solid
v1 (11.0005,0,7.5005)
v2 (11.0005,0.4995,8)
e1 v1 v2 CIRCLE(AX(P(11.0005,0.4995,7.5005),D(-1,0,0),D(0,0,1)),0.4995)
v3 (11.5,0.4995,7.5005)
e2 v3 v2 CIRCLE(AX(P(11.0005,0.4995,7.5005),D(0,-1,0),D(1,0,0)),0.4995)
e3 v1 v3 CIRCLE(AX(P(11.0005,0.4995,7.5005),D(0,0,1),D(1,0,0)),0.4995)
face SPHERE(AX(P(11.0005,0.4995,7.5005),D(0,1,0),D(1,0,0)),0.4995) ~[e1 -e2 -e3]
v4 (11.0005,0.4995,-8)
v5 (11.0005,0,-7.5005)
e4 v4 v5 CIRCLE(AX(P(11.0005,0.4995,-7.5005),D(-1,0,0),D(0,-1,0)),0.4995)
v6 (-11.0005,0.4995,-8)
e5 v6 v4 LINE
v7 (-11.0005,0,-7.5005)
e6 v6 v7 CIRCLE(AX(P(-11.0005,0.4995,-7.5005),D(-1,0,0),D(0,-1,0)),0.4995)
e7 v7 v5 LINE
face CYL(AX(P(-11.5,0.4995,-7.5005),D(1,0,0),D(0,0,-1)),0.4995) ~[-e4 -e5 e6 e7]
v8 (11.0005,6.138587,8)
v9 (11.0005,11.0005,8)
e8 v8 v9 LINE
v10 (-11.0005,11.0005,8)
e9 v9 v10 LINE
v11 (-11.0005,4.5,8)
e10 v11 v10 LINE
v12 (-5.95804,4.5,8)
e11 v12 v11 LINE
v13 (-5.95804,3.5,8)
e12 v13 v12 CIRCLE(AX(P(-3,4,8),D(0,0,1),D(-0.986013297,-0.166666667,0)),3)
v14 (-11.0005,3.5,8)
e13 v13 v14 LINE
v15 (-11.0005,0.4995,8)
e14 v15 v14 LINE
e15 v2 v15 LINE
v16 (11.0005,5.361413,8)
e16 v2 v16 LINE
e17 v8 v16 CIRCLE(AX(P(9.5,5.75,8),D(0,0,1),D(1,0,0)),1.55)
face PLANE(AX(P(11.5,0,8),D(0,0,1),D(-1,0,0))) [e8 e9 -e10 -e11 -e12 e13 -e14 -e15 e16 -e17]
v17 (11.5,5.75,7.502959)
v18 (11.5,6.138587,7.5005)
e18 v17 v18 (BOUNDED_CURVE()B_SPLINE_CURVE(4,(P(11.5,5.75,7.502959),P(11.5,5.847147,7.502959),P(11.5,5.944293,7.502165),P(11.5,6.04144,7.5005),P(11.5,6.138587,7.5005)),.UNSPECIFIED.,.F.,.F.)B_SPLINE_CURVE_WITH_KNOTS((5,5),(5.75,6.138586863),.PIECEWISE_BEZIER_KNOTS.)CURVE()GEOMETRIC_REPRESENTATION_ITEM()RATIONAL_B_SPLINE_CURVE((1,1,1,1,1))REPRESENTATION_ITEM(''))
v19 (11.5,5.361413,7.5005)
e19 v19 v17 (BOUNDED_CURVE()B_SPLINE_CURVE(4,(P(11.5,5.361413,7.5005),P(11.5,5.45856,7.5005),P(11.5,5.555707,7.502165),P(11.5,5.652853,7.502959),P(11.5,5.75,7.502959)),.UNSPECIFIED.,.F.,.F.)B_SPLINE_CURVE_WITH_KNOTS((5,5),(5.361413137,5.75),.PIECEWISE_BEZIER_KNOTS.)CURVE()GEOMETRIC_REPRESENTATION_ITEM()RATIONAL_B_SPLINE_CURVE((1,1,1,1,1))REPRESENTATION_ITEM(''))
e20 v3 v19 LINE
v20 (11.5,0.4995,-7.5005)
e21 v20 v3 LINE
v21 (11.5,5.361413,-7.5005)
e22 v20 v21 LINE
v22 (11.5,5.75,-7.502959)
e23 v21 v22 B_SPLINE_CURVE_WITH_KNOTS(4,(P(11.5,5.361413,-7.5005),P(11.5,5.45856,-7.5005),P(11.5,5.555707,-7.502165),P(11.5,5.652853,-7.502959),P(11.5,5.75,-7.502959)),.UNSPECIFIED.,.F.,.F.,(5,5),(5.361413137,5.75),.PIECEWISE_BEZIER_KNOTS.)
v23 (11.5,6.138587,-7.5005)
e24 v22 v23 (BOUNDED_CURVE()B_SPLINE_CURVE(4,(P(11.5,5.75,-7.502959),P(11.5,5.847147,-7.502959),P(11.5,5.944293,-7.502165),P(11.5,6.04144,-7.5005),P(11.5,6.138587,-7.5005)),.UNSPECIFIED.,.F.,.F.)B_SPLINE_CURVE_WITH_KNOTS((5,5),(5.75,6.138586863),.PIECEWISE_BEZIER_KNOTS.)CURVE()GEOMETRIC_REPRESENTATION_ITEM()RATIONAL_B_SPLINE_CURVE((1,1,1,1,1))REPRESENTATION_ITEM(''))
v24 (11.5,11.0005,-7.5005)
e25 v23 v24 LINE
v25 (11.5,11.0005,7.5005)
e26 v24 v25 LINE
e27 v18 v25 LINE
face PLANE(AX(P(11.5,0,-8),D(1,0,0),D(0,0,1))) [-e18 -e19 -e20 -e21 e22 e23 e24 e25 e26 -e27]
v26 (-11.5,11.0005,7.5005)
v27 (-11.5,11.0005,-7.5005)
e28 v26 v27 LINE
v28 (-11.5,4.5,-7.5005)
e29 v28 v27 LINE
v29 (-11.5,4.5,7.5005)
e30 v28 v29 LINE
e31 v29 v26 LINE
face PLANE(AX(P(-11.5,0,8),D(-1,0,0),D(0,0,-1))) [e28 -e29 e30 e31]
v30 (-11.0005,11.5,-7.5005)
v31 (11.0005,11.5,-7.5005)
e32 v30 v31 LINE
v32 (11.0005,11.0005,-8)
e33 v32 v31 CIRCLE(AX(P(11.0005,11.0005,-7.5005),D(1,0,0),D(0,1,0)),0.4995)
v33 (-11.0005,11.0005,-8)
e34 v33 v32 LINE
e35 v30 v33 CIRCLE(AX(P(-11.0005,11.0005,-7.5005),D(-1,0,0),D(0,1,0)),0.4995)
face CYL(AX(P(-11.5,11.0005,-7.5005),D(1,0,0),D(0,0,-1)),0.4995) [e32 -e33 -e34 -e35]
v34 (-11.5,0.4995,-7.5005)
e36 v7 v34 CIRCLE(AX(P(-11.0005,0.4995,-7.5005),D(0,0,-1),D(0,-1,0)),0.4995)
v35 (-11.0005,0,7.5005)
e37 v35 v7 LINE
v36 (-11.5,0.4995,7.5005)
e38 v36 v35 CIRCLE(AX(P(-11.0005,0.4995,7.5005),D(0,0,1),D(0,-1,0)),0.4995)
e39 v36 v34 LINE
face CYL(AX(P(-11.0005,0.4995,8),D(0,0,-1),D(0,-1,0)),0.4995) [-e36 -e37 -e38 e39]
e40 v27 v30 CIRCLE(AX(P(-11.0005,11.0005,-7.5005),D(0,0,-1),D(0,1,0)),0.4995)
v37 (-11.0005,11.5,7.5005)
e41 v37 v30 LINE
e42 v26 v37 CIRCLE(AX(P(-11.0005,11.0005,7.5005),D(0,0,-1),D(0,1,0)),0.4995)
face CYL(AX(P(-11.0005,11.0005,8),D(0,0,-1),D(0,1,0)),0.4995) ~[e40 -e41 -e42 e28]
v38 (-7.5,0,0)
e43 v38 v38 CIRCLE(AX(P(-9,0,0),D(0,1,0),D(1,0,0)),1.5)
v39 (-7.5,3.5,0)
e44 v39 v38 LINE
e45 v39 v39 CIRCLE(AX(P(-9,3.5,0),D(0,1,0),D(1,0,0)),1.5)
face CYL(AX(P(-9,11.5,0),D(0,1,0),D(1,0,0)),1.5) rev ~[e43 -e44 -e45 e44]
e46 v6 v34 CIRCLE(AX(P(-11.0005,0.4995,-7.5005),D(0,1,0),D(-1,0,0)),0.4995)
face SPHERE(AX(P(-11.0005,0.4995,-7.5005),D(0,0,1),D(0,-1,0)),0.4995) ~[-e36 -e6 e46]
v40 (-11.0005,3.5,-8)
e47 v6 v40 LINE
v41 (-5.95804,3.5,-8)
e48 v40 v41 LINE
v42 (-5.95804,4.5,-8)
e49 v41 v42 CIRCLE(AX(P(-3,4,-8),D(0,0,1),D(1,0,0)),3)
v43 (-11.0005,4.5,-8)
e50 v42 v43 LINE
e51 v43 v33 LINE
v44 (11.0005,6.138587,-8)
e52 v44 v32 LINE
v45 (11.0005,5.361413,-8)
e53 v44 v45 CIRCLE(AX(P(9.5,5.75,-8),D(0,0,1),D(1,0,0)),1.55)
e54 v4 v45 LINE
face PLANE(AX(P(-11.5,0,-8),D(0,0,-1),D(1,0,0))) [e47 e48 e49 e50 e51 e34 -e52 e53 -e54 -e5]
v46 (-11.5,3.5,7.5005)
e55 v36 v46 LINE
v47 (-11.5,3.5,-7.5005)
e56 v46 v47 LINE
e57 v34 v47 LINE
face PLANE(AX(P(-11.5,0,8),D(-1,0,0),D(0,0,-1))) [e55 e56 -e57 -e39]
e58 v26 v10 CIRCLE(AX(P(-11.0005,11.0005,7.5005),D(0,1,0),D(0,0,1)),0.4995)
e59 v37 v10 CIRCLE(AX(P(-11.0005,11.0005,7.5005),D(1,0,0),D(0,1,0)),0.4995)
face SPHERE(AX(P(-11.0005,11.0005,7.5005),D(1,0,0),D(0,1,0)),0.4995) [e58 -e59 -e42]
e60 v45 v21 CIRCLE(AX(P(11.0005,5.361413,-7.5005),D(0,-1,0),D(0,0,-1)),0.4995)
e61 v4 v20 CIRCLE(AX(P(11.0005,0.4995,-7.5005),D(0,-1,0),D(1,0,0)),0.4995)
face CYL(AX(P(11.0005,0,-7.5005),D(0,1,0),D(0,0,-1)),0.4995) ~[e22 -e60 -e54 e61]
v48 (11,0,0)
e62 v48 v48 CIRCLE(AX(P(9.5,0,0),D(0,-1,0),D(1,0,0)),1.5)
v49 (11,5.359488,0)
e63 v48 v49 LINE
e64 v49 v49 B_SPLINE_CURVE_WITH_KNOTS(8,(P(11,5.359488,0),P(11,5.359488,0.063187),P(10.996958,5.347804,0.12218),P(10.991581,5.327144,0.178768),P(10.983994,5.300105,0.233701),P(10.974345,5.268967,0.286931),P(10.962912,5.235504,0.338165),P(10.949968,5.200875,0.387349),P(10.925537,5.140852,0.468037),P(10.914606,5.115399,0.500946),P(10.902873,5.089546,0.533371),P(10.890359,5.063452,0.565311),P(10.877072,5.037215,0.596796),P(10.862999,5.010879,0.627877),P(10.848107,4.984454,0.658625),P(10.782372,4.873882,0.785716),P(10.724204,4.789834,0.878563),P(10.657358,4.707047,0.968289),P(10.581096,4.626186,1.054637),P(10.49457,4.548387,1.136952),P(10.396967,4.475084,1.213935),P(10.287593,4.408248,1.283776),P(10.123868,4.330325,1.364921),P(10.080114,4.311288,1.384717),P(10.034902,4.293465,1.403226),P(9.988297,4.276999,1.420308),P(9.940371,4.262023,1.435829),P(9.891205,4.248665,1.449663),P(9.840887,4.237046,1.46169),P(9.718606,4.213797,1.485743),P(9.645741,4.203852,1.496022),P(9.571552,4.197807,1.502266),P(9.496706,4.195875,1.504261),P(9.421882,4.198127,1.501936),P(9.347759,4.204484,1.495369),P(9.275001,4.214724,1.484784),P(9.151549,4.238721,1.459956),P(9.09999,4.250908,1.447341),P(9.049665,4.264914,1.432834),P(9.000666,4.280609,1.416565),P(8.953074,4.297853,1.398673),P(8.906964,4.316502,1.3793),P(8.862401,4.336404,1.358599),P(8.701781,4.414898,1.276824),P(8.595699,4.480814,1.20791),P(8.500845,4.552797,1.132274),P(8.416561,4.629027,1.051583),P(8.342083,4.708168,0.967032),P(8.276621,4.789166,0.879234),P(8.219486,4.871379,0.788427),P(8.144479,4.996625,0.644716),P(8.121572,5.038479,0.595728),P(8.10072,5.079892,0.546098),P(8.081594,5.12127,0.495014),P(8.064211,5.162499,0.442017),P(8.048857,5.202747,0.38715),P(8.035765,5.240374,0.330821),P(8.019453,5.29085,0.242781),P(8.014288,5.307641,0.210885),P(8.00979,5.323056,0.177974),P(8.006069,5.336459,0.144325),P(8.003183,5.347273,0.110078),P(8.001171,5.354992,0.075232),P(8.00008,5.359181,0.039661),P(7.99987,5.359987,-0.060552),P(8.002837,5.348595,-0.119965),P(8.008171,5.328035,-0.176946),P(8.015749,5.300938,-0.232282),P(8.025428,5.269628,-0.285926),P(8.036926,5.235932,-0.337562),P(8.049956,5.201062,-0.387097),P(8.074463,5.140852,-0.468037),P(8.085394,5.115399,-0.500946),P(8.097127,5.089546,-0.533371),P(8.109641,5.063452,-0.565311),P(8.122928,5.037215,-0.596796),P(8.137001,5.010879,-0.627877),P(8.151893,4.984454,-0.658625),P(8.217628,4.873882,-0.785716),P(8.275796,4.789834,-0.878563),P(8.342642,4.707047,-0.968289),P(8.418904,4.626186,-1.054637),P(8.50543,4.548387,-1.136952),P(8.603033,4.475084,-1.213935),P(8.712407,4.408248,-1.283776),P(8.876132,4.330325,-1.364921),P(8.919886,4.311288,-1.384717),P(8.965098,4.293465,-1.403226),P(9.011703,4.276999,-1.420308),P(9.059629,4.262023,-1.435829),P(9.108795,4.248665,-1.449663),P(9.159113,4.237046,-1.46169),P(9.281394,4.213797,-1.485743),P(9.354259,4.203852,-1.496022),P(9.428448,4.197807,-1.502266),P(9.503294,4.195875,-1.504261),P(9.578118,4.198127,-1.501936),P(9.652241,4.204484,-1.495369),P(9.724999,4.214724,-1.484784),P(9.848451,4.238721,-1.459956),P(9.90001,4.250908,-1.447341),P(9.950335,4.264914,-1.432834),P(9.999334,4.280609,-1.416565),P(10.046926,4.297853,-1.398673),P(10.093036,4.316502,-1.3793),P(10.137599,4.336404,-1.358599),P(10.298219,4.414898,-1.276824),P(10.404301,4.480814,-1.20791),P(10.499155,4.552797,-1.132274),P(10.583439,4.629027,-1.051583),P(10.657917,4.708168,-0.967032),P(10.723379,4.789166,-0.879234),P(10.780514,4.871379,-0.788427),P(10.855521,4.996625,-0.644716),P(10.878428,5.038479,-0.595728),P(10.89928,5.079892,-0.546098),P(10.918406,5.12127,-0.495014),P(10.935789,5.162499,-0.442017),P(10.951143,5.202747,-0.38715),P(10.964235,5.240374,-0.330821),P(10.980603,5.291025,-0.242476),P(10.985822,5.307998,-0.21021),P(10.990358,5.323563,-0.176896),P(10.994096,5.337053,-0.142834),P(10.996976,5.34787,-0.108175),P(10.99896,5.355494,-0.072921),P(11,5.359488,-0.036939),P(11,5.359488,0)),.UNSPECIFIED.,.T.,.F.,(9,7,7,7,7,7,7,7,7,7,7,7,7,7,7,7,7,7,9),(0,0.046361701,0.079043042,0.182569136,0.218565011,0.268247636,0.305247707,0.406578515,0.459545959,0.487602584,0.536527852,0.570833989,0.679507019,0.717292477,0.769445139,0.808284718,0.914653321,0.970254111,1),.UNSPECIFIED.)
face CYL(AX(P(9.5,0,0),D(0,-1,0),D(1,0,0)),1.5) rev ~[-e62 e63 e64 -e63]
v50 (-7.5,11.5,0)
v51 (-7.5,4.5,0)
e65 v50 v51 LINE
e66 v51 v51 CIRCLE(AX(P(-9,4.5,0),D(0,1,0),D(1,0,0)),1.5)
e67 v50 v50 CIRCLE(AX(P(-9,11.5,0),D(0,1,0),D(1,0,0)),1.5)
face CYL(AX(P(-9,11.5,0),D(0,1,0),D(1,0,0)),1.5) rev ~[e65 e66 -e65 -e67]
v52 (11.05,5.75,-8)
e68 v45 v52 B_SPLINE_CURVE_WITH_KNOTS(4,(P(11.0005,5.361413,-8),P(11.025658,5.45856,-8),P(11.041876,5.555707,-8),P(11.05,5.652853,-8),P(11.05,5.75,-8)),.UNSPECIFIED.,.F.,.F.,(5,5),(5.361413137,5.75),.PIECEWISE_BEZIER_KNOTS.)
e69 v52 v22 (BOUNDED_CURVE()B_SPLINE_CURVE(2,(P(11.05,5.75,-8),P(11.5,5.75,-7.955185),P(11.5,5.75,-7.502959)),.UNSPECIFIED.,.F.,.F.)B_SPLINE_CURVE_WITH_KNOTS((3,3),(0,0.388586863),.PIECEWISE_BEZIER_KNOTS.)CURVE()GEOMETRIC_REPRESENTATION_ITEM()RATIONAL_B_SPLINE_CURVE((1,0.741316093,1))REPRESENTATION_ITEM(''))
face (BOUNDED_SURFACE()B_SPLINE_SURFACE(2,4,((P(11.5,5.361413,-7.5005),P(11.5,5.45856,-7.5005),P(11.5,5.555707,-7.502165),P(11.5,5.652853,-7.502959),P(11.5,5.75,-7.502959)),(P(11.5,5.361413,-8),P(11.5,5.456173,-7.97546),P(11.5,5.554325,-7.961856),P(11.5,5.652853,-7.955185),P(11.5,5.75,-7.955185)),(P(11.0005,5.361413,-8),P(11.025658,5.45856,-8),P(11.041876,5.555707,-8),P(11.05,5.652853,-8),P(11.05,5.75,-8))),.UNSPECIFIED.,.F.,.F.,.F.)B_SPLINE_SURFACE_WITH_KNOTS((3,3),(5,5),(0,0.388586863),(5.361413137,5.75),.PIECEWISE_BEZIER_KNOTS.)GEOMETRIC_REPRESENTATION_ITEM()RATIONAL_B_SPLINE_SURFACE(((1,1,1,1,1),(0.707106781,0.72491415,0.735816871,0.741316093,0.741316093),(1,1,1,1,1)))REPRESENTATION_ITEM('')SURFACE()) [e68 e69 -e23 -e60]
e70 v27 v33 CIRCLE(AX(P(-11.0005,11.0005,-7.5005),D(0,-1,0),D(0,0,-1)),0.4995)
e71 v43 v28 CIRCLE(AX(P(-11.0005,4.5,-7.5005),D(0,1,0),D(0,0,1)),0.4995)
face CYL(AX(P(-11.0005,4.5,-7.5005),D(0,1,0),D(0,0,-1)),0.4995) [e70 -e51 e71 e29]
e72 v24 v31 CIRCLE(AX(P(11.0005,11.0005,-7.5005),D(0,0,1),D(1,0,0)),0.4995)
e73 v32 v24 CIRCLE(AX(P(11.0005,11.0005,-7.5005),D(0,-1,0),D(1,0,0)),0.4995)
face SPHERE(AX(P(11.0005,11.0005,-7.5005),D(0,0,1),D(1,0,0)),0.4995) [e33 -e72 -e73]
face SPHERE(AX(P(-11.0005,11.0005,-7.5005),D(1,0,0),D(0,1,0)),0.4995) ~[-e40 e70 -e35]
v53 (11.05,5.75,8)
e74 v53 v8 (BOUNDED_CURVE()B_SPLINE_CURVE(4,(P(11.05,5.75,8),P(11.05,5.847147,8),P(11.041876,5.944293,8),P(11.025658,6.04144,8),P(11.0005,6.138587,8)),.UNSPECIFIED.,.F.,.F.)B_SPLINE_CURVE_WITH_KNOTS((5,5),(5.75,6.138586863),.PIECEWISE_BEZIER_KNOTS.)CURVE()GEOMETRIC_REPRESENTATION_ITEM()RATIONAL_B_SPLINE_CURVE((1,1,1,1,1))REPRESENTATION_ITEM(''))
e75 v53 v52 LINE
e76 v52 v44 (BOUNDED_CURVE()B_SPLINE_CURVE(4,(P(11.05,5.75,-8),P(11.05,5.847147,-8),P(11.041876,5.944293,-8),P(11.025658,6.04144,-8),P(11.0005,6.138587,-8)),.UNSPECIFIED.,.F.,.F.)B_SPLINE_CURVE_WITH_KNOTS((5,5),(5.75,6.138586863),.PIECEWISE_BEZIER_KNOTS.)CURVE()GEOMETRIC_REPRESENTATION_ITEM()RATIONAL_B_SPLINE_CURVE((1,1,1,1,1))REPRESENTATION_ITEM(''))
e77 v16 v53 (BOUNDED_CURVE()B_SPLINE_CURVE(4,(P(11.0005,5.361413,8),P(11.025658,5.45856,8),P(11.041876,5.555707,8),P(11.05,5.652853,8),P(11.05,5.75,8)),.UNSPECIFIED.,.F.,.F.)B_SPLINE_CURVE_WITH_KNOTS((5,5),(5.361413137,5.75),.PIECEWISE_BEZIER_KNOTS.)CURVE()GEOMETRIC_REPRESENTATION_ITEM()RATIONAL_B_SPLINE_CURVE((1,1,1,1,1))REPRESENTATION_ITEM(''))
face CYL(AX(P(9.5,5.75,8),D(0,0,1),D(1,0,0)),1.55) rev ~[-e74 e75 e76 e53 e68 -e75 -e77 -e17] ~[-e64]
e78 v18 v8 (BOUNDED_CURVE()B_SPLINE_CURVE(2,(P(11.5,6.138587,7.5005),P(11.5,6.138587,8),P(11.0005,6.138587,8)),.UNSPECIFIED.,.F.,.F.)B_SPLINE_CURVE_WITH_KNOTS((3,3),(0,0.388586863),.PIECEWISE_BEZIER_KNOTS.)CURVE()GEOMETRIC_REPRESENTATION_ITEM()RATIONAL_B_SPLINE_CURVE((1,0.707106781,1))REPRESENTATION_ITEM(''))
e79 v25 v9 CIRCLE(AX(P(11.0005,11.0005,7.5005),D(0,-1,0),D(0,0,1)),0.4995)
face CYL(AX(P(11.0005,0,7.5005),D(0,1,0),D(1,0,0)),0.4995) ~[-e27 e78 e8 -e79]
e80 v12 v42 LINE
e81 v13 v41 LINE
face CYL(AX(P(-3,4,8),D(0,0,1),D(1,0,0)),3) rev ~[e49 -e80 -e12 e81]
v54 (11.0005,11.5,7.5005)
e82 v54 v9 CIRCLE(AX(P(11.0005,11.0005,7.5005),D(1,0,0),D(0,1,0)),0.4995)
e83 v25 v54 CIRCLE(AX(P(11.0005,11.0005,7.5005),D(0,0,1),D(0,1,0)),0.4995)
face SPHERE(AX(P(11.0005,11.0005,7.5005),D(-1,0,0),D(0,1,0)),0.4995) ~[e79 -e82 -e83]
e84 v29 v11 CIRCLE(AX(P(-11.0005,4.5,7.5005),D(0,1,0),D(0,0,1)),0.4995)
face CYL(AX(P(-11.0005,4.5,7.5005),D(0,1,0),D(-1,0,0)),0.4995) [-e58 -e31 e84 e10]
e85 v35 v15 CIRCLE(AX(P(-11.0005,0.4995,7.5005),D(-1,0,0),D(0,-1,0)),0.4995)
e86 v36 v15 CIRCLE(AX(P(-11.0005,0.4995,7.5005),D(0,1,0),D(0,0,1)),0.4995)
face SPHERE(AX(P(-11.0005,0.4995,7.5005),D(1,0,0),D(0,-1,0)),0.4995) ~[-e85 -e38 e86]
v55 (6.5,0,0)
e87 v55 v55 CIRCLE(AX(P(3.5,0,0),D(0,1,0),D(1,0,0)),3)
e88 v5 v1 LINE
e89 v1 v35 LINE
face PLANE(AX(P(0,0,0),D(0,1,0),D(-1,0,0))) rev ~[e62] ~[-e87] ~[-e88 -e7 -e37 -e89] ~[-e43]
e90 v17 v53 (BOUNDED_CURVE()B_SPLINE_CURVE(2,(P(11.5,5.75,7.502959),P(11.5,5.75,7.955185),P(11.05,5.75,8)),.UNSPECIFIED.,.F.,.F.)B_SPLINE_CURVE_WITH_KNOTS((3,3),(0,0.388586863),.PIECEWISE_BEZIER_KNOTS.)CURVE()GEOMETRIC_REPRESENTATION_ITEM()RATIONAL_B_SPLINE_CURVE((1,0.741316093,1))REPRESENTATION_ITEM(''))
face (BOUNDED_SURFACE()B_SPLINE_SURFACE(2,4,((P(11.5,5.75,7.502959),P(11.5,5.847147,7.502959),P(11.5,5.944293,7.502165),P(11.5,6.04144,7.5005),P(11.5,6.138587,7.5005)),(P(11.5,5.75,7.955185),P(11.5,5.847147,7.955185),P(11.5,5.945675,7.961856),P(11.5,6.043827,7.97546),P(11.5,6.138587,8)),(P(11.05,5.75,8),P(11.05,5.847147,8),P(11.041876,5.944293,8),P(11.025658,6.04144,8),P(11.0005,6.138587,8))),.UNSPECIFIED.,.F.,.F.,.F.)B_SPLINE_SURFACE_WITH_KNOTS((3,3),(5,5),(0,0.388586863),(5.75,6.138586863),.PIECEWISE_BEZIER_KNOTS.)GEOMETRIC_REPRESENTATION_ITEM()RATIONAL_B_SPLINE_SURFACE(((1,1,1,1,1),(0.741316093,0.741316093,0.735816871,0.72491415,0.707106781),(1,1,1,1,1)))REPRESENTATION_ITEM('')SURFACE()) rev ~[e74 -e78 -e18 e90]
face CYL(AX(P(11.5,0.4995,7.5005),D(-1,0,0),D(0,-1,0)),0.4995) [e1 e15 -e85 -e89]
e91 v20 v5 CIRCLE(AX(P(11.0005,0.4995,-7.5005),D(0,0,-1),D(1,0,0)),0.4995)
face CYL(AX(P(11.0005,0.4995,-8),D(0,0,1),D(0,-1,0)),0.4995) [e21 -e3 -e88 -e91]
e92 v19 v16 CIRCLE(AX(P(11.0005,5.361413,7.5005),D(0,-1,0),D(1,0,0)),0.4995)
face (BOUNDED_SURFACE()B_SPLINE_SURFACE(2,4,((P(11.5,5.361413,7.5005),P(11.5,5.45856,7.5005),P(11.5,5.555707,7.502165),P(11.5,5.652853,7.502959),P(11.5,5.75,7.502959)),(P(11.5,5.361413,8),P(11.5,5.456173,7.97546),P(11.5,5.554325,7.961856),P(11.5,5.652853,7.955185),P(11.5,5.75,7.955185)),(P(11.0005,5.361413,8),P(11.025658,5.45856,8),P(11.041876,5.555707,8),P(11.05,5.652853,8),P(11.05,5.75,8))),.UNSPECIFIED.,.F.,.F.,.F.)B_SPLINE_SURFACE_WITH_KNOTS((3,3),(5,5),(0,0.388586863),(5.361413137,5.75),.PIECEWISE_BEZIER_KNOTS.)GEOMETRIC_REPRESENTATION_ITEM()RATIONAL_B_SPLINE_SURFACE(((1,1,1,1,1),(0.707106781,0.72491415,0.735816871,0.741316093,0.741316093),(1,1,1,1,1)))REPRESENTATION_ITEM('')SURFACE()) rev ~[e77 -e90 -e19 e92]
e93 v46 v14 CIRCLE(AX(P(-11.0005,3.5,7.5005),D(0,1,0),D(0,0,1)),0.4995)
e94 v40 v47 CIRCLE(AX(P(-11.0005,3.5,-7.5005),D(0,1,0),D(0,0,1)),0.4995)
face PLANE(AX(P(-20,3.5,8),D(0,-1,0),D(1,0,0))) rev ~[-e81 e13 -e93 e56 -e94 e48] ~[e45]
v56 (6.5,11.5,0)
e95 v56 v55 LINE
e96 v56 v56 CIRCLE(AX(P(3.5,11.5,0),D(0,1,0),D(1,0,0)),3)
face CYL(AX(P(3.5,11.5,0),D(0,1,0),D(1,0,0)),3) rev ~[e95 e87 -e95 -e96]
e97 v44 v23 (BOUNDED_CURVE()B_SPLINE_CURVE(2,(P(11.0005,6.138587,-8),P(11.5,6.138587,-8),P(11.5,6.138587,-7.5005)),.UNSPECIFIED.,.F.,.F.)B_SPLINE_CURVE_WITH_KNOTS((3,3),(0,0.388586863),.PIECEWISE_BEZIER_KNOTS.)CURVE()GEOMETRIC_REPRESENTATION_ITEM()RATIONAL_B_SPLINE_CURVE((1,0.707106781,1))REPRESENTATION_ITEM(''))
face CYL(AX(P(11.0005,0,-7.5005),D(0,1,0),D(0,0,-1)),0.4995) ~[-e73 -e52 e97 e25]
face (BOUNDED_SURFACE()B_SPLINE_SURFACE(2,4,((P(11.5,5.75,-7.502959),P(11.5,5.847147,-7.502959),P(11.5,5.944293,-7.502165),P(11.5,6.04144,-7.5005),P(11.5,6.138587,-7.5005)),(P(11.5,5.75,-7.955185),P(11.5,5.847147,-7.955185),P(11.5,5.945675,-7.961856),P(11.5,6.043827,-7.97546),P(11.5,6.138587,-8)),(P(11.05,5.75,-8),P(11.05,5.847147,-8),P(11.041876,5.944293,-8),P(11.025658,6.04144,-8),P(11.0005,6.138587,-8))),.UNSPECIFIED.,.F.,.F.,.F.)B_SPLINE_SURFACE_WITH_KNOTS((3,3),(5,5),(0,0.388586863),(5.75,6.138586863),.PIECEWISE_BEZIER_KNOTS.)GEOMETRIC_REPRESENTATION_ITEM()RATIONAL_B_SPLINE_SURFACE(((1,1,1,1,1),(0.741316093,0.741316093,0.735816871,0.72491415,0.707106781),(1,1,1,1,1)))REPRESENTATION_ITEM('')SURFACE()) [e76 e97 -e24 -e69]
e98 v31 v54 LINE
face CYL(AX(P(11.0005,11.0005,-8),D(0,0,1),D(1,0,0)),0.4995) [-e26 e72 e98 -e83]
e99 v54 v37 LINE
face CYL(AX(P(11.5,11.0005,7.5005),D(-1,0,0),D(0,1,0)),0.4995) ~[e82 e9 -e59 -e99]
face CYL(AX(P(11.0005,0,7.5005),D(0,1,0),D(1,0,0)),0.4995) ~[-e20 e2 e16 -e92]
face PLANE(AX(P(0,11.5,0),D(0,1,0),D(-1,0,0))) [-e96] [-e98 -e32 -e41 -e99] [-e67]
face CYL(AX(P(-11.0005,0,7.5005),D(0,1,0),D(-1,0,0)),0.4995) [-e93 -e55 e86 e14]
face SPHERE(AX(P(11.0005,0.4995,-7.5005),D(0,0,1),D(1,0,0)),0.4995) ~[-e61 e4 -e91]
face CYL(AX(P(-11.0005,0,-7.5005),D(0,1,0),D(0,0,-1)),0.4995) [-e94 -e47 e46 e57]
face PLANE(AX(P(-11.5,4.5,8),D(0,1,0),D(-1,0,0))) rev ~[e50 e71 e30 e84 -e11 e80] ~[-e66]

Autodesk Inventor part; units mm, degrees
ref_plane "YZ Plane" through (0, 0, 0) normal (1, 0, 0) x (0, 1, 0)
ref_plane "XZ Plane" through (0, 0, 0) normal (0, 1, 0) x (-1, 0, 0)
ref_plane "XY Plane" through (0, 0, 0) normal (0, 0, 1) x (1, 0, 0)
sketch "Эскиз1" plane through (0, 0, 0) normal (0, 1, 0) x (-1, 0, 0)
  line L0 (11.5, -8) -> (-11.5, -8)
  line L1 (-11.5, -8) -> (-11.5, 8)
  line L2 (-11.5, 8) -> (11.5, 8)
  line L3 (11.5, 8) -> (11.5, -8)
  line L4 (11.5, -8) -> (-11.5, 8) construction
  line L5 (-11.5, -8) -> (11.5, 8) construction
  point P0 (0, 0)
  dimension "d0" = 23
  dimension "d1" = 16
extrude "Выдавливание1" add sketch "Эскиз1" along normal blind 11.5
sketch "Эскиз2" plane through (-11.5, 0, 8) normal (0, 0, 1) x (1, 0, 0)
  line L0 (0, 0) -> (0, 11.5) projected
  line L1 (23, 0) -> (8.5, 0) construction
  line L2 (8.5, 0) -> (8.5, 4) construction
  line L3 (8.5, 4) -> (23, 4) construction
  line L4 (23, 4) -> (23, 0) construction
  line L5 (23, 0) -> (21, 0) construction
  line L6 (21, 0) -> (21, 5.75) construction
  line L7 (21, 5.75) -> (23, 5.75) construction
  line L8 (23, 5.75) -> (23, 0) construction
  circle A0 centre (8.5, 4) radius 3
  circle A1 centre (21, 5.75) radius 1.55
  line L9 (-8.5, 3.5) -> (8.5, 3.5)
  line L10 (8.5, 3.5) -> (8.5, 4.5)
  line L11 (8.5, 4.5) -> (-8.5, 4.5)
  line L12 (-8.5, 4.5) -> (-8.5, 3.5)
  line L13 (-8.5, 3.5) -> (8.5, 4.5) construction
  line L14 (8.5, 3.5) -> (-8.5, 4.5) construction
  point P0 (11.5, 0)
  point P1 (0, 4)
  dimension "d4" = 14.5
  dimension "d5" = 4
  dimension "d6" = 2
  dimension "d7" = 5.75
  dimension "d8" = 6
  dimension "d9" = 3.1
  dimension "d10" = 1
extrude "Выдавливание2" cut sketch "Эскиз2" against normal up to next
sketch "Эскиз3" plane through (0, 11.5, 0) normal (0, 1, 0) x (1, 0, 0)
  line L0 (11.5, -8) -> (11.5, 8) projected
  line L1 (11.5, 0) -> (-9, 0) construction
  line L2 (11.5, 0) -> (3.5, 0) construction
  circle A0 centre (-9, 0) radius 1.5
  circle A1 centre (3.5, 0) radius 3
  point P0 (0, 0)
  dimension "d13" = 20.5
  dimension "d14" = 8
  dimension "d15" = 3
  dimension "d16" = 6
extrude "Выдавливание3" cut sketch "Эскиз3" against normal up to surface (11.5 mm away)
sketch "Эскиз4" plane through (0, 0, 0) normal (0, -1, 0) x (1, 0, 0)
  line L0 (11.5, -8) -> (11.5, 8) projected
  line L1 (-11.5, 8) -> (-11.5, -8) projected
  line L2 (11.5, 0) -> (9.5, 0) construction
  circle A0 centre (9.5, 0) radius 1.5
  point P0 (0, 0)
  dimension "d19" = 2
  dimension "d20" = 3
extrude "Выдавливание4" cut sketch "Эскиз4" against normal up to next
fillet "Сопряжение1" radius 0.5 14 edges at (0, 11.5, 8) (11.5, 11.5, 0) (11.5, 5.75, 8) (11.5, 0, 0) (11.5, 5.75, -8) (0, 11.5, -8) (-11.5, 11.5, 0) (0, 0, 8) (-11.5, 0, 0) (0, 0, -8) (-11.5, 1.75, 8) (-11.5, 8, 8) (-11.5, 8, -8) (-11.5, 1.75, -8)
thread "Резьба1" size "M3x0.5" class "6H" standard "ANSI Metric M Profile" full length
thread "Резьба2" size "M3x0.5" class "6H" standard "ANSI Metric M Profile" full length
thread "Резьба3" size "M6x1" class "6H" standard "ANSI Metric M Profile" full length
thread "Резьба4" size "M3x0.5" class "6H" standard "ANSI Metric M Profile" full length
properties part number "BLOCK-CARTRIDGE"
